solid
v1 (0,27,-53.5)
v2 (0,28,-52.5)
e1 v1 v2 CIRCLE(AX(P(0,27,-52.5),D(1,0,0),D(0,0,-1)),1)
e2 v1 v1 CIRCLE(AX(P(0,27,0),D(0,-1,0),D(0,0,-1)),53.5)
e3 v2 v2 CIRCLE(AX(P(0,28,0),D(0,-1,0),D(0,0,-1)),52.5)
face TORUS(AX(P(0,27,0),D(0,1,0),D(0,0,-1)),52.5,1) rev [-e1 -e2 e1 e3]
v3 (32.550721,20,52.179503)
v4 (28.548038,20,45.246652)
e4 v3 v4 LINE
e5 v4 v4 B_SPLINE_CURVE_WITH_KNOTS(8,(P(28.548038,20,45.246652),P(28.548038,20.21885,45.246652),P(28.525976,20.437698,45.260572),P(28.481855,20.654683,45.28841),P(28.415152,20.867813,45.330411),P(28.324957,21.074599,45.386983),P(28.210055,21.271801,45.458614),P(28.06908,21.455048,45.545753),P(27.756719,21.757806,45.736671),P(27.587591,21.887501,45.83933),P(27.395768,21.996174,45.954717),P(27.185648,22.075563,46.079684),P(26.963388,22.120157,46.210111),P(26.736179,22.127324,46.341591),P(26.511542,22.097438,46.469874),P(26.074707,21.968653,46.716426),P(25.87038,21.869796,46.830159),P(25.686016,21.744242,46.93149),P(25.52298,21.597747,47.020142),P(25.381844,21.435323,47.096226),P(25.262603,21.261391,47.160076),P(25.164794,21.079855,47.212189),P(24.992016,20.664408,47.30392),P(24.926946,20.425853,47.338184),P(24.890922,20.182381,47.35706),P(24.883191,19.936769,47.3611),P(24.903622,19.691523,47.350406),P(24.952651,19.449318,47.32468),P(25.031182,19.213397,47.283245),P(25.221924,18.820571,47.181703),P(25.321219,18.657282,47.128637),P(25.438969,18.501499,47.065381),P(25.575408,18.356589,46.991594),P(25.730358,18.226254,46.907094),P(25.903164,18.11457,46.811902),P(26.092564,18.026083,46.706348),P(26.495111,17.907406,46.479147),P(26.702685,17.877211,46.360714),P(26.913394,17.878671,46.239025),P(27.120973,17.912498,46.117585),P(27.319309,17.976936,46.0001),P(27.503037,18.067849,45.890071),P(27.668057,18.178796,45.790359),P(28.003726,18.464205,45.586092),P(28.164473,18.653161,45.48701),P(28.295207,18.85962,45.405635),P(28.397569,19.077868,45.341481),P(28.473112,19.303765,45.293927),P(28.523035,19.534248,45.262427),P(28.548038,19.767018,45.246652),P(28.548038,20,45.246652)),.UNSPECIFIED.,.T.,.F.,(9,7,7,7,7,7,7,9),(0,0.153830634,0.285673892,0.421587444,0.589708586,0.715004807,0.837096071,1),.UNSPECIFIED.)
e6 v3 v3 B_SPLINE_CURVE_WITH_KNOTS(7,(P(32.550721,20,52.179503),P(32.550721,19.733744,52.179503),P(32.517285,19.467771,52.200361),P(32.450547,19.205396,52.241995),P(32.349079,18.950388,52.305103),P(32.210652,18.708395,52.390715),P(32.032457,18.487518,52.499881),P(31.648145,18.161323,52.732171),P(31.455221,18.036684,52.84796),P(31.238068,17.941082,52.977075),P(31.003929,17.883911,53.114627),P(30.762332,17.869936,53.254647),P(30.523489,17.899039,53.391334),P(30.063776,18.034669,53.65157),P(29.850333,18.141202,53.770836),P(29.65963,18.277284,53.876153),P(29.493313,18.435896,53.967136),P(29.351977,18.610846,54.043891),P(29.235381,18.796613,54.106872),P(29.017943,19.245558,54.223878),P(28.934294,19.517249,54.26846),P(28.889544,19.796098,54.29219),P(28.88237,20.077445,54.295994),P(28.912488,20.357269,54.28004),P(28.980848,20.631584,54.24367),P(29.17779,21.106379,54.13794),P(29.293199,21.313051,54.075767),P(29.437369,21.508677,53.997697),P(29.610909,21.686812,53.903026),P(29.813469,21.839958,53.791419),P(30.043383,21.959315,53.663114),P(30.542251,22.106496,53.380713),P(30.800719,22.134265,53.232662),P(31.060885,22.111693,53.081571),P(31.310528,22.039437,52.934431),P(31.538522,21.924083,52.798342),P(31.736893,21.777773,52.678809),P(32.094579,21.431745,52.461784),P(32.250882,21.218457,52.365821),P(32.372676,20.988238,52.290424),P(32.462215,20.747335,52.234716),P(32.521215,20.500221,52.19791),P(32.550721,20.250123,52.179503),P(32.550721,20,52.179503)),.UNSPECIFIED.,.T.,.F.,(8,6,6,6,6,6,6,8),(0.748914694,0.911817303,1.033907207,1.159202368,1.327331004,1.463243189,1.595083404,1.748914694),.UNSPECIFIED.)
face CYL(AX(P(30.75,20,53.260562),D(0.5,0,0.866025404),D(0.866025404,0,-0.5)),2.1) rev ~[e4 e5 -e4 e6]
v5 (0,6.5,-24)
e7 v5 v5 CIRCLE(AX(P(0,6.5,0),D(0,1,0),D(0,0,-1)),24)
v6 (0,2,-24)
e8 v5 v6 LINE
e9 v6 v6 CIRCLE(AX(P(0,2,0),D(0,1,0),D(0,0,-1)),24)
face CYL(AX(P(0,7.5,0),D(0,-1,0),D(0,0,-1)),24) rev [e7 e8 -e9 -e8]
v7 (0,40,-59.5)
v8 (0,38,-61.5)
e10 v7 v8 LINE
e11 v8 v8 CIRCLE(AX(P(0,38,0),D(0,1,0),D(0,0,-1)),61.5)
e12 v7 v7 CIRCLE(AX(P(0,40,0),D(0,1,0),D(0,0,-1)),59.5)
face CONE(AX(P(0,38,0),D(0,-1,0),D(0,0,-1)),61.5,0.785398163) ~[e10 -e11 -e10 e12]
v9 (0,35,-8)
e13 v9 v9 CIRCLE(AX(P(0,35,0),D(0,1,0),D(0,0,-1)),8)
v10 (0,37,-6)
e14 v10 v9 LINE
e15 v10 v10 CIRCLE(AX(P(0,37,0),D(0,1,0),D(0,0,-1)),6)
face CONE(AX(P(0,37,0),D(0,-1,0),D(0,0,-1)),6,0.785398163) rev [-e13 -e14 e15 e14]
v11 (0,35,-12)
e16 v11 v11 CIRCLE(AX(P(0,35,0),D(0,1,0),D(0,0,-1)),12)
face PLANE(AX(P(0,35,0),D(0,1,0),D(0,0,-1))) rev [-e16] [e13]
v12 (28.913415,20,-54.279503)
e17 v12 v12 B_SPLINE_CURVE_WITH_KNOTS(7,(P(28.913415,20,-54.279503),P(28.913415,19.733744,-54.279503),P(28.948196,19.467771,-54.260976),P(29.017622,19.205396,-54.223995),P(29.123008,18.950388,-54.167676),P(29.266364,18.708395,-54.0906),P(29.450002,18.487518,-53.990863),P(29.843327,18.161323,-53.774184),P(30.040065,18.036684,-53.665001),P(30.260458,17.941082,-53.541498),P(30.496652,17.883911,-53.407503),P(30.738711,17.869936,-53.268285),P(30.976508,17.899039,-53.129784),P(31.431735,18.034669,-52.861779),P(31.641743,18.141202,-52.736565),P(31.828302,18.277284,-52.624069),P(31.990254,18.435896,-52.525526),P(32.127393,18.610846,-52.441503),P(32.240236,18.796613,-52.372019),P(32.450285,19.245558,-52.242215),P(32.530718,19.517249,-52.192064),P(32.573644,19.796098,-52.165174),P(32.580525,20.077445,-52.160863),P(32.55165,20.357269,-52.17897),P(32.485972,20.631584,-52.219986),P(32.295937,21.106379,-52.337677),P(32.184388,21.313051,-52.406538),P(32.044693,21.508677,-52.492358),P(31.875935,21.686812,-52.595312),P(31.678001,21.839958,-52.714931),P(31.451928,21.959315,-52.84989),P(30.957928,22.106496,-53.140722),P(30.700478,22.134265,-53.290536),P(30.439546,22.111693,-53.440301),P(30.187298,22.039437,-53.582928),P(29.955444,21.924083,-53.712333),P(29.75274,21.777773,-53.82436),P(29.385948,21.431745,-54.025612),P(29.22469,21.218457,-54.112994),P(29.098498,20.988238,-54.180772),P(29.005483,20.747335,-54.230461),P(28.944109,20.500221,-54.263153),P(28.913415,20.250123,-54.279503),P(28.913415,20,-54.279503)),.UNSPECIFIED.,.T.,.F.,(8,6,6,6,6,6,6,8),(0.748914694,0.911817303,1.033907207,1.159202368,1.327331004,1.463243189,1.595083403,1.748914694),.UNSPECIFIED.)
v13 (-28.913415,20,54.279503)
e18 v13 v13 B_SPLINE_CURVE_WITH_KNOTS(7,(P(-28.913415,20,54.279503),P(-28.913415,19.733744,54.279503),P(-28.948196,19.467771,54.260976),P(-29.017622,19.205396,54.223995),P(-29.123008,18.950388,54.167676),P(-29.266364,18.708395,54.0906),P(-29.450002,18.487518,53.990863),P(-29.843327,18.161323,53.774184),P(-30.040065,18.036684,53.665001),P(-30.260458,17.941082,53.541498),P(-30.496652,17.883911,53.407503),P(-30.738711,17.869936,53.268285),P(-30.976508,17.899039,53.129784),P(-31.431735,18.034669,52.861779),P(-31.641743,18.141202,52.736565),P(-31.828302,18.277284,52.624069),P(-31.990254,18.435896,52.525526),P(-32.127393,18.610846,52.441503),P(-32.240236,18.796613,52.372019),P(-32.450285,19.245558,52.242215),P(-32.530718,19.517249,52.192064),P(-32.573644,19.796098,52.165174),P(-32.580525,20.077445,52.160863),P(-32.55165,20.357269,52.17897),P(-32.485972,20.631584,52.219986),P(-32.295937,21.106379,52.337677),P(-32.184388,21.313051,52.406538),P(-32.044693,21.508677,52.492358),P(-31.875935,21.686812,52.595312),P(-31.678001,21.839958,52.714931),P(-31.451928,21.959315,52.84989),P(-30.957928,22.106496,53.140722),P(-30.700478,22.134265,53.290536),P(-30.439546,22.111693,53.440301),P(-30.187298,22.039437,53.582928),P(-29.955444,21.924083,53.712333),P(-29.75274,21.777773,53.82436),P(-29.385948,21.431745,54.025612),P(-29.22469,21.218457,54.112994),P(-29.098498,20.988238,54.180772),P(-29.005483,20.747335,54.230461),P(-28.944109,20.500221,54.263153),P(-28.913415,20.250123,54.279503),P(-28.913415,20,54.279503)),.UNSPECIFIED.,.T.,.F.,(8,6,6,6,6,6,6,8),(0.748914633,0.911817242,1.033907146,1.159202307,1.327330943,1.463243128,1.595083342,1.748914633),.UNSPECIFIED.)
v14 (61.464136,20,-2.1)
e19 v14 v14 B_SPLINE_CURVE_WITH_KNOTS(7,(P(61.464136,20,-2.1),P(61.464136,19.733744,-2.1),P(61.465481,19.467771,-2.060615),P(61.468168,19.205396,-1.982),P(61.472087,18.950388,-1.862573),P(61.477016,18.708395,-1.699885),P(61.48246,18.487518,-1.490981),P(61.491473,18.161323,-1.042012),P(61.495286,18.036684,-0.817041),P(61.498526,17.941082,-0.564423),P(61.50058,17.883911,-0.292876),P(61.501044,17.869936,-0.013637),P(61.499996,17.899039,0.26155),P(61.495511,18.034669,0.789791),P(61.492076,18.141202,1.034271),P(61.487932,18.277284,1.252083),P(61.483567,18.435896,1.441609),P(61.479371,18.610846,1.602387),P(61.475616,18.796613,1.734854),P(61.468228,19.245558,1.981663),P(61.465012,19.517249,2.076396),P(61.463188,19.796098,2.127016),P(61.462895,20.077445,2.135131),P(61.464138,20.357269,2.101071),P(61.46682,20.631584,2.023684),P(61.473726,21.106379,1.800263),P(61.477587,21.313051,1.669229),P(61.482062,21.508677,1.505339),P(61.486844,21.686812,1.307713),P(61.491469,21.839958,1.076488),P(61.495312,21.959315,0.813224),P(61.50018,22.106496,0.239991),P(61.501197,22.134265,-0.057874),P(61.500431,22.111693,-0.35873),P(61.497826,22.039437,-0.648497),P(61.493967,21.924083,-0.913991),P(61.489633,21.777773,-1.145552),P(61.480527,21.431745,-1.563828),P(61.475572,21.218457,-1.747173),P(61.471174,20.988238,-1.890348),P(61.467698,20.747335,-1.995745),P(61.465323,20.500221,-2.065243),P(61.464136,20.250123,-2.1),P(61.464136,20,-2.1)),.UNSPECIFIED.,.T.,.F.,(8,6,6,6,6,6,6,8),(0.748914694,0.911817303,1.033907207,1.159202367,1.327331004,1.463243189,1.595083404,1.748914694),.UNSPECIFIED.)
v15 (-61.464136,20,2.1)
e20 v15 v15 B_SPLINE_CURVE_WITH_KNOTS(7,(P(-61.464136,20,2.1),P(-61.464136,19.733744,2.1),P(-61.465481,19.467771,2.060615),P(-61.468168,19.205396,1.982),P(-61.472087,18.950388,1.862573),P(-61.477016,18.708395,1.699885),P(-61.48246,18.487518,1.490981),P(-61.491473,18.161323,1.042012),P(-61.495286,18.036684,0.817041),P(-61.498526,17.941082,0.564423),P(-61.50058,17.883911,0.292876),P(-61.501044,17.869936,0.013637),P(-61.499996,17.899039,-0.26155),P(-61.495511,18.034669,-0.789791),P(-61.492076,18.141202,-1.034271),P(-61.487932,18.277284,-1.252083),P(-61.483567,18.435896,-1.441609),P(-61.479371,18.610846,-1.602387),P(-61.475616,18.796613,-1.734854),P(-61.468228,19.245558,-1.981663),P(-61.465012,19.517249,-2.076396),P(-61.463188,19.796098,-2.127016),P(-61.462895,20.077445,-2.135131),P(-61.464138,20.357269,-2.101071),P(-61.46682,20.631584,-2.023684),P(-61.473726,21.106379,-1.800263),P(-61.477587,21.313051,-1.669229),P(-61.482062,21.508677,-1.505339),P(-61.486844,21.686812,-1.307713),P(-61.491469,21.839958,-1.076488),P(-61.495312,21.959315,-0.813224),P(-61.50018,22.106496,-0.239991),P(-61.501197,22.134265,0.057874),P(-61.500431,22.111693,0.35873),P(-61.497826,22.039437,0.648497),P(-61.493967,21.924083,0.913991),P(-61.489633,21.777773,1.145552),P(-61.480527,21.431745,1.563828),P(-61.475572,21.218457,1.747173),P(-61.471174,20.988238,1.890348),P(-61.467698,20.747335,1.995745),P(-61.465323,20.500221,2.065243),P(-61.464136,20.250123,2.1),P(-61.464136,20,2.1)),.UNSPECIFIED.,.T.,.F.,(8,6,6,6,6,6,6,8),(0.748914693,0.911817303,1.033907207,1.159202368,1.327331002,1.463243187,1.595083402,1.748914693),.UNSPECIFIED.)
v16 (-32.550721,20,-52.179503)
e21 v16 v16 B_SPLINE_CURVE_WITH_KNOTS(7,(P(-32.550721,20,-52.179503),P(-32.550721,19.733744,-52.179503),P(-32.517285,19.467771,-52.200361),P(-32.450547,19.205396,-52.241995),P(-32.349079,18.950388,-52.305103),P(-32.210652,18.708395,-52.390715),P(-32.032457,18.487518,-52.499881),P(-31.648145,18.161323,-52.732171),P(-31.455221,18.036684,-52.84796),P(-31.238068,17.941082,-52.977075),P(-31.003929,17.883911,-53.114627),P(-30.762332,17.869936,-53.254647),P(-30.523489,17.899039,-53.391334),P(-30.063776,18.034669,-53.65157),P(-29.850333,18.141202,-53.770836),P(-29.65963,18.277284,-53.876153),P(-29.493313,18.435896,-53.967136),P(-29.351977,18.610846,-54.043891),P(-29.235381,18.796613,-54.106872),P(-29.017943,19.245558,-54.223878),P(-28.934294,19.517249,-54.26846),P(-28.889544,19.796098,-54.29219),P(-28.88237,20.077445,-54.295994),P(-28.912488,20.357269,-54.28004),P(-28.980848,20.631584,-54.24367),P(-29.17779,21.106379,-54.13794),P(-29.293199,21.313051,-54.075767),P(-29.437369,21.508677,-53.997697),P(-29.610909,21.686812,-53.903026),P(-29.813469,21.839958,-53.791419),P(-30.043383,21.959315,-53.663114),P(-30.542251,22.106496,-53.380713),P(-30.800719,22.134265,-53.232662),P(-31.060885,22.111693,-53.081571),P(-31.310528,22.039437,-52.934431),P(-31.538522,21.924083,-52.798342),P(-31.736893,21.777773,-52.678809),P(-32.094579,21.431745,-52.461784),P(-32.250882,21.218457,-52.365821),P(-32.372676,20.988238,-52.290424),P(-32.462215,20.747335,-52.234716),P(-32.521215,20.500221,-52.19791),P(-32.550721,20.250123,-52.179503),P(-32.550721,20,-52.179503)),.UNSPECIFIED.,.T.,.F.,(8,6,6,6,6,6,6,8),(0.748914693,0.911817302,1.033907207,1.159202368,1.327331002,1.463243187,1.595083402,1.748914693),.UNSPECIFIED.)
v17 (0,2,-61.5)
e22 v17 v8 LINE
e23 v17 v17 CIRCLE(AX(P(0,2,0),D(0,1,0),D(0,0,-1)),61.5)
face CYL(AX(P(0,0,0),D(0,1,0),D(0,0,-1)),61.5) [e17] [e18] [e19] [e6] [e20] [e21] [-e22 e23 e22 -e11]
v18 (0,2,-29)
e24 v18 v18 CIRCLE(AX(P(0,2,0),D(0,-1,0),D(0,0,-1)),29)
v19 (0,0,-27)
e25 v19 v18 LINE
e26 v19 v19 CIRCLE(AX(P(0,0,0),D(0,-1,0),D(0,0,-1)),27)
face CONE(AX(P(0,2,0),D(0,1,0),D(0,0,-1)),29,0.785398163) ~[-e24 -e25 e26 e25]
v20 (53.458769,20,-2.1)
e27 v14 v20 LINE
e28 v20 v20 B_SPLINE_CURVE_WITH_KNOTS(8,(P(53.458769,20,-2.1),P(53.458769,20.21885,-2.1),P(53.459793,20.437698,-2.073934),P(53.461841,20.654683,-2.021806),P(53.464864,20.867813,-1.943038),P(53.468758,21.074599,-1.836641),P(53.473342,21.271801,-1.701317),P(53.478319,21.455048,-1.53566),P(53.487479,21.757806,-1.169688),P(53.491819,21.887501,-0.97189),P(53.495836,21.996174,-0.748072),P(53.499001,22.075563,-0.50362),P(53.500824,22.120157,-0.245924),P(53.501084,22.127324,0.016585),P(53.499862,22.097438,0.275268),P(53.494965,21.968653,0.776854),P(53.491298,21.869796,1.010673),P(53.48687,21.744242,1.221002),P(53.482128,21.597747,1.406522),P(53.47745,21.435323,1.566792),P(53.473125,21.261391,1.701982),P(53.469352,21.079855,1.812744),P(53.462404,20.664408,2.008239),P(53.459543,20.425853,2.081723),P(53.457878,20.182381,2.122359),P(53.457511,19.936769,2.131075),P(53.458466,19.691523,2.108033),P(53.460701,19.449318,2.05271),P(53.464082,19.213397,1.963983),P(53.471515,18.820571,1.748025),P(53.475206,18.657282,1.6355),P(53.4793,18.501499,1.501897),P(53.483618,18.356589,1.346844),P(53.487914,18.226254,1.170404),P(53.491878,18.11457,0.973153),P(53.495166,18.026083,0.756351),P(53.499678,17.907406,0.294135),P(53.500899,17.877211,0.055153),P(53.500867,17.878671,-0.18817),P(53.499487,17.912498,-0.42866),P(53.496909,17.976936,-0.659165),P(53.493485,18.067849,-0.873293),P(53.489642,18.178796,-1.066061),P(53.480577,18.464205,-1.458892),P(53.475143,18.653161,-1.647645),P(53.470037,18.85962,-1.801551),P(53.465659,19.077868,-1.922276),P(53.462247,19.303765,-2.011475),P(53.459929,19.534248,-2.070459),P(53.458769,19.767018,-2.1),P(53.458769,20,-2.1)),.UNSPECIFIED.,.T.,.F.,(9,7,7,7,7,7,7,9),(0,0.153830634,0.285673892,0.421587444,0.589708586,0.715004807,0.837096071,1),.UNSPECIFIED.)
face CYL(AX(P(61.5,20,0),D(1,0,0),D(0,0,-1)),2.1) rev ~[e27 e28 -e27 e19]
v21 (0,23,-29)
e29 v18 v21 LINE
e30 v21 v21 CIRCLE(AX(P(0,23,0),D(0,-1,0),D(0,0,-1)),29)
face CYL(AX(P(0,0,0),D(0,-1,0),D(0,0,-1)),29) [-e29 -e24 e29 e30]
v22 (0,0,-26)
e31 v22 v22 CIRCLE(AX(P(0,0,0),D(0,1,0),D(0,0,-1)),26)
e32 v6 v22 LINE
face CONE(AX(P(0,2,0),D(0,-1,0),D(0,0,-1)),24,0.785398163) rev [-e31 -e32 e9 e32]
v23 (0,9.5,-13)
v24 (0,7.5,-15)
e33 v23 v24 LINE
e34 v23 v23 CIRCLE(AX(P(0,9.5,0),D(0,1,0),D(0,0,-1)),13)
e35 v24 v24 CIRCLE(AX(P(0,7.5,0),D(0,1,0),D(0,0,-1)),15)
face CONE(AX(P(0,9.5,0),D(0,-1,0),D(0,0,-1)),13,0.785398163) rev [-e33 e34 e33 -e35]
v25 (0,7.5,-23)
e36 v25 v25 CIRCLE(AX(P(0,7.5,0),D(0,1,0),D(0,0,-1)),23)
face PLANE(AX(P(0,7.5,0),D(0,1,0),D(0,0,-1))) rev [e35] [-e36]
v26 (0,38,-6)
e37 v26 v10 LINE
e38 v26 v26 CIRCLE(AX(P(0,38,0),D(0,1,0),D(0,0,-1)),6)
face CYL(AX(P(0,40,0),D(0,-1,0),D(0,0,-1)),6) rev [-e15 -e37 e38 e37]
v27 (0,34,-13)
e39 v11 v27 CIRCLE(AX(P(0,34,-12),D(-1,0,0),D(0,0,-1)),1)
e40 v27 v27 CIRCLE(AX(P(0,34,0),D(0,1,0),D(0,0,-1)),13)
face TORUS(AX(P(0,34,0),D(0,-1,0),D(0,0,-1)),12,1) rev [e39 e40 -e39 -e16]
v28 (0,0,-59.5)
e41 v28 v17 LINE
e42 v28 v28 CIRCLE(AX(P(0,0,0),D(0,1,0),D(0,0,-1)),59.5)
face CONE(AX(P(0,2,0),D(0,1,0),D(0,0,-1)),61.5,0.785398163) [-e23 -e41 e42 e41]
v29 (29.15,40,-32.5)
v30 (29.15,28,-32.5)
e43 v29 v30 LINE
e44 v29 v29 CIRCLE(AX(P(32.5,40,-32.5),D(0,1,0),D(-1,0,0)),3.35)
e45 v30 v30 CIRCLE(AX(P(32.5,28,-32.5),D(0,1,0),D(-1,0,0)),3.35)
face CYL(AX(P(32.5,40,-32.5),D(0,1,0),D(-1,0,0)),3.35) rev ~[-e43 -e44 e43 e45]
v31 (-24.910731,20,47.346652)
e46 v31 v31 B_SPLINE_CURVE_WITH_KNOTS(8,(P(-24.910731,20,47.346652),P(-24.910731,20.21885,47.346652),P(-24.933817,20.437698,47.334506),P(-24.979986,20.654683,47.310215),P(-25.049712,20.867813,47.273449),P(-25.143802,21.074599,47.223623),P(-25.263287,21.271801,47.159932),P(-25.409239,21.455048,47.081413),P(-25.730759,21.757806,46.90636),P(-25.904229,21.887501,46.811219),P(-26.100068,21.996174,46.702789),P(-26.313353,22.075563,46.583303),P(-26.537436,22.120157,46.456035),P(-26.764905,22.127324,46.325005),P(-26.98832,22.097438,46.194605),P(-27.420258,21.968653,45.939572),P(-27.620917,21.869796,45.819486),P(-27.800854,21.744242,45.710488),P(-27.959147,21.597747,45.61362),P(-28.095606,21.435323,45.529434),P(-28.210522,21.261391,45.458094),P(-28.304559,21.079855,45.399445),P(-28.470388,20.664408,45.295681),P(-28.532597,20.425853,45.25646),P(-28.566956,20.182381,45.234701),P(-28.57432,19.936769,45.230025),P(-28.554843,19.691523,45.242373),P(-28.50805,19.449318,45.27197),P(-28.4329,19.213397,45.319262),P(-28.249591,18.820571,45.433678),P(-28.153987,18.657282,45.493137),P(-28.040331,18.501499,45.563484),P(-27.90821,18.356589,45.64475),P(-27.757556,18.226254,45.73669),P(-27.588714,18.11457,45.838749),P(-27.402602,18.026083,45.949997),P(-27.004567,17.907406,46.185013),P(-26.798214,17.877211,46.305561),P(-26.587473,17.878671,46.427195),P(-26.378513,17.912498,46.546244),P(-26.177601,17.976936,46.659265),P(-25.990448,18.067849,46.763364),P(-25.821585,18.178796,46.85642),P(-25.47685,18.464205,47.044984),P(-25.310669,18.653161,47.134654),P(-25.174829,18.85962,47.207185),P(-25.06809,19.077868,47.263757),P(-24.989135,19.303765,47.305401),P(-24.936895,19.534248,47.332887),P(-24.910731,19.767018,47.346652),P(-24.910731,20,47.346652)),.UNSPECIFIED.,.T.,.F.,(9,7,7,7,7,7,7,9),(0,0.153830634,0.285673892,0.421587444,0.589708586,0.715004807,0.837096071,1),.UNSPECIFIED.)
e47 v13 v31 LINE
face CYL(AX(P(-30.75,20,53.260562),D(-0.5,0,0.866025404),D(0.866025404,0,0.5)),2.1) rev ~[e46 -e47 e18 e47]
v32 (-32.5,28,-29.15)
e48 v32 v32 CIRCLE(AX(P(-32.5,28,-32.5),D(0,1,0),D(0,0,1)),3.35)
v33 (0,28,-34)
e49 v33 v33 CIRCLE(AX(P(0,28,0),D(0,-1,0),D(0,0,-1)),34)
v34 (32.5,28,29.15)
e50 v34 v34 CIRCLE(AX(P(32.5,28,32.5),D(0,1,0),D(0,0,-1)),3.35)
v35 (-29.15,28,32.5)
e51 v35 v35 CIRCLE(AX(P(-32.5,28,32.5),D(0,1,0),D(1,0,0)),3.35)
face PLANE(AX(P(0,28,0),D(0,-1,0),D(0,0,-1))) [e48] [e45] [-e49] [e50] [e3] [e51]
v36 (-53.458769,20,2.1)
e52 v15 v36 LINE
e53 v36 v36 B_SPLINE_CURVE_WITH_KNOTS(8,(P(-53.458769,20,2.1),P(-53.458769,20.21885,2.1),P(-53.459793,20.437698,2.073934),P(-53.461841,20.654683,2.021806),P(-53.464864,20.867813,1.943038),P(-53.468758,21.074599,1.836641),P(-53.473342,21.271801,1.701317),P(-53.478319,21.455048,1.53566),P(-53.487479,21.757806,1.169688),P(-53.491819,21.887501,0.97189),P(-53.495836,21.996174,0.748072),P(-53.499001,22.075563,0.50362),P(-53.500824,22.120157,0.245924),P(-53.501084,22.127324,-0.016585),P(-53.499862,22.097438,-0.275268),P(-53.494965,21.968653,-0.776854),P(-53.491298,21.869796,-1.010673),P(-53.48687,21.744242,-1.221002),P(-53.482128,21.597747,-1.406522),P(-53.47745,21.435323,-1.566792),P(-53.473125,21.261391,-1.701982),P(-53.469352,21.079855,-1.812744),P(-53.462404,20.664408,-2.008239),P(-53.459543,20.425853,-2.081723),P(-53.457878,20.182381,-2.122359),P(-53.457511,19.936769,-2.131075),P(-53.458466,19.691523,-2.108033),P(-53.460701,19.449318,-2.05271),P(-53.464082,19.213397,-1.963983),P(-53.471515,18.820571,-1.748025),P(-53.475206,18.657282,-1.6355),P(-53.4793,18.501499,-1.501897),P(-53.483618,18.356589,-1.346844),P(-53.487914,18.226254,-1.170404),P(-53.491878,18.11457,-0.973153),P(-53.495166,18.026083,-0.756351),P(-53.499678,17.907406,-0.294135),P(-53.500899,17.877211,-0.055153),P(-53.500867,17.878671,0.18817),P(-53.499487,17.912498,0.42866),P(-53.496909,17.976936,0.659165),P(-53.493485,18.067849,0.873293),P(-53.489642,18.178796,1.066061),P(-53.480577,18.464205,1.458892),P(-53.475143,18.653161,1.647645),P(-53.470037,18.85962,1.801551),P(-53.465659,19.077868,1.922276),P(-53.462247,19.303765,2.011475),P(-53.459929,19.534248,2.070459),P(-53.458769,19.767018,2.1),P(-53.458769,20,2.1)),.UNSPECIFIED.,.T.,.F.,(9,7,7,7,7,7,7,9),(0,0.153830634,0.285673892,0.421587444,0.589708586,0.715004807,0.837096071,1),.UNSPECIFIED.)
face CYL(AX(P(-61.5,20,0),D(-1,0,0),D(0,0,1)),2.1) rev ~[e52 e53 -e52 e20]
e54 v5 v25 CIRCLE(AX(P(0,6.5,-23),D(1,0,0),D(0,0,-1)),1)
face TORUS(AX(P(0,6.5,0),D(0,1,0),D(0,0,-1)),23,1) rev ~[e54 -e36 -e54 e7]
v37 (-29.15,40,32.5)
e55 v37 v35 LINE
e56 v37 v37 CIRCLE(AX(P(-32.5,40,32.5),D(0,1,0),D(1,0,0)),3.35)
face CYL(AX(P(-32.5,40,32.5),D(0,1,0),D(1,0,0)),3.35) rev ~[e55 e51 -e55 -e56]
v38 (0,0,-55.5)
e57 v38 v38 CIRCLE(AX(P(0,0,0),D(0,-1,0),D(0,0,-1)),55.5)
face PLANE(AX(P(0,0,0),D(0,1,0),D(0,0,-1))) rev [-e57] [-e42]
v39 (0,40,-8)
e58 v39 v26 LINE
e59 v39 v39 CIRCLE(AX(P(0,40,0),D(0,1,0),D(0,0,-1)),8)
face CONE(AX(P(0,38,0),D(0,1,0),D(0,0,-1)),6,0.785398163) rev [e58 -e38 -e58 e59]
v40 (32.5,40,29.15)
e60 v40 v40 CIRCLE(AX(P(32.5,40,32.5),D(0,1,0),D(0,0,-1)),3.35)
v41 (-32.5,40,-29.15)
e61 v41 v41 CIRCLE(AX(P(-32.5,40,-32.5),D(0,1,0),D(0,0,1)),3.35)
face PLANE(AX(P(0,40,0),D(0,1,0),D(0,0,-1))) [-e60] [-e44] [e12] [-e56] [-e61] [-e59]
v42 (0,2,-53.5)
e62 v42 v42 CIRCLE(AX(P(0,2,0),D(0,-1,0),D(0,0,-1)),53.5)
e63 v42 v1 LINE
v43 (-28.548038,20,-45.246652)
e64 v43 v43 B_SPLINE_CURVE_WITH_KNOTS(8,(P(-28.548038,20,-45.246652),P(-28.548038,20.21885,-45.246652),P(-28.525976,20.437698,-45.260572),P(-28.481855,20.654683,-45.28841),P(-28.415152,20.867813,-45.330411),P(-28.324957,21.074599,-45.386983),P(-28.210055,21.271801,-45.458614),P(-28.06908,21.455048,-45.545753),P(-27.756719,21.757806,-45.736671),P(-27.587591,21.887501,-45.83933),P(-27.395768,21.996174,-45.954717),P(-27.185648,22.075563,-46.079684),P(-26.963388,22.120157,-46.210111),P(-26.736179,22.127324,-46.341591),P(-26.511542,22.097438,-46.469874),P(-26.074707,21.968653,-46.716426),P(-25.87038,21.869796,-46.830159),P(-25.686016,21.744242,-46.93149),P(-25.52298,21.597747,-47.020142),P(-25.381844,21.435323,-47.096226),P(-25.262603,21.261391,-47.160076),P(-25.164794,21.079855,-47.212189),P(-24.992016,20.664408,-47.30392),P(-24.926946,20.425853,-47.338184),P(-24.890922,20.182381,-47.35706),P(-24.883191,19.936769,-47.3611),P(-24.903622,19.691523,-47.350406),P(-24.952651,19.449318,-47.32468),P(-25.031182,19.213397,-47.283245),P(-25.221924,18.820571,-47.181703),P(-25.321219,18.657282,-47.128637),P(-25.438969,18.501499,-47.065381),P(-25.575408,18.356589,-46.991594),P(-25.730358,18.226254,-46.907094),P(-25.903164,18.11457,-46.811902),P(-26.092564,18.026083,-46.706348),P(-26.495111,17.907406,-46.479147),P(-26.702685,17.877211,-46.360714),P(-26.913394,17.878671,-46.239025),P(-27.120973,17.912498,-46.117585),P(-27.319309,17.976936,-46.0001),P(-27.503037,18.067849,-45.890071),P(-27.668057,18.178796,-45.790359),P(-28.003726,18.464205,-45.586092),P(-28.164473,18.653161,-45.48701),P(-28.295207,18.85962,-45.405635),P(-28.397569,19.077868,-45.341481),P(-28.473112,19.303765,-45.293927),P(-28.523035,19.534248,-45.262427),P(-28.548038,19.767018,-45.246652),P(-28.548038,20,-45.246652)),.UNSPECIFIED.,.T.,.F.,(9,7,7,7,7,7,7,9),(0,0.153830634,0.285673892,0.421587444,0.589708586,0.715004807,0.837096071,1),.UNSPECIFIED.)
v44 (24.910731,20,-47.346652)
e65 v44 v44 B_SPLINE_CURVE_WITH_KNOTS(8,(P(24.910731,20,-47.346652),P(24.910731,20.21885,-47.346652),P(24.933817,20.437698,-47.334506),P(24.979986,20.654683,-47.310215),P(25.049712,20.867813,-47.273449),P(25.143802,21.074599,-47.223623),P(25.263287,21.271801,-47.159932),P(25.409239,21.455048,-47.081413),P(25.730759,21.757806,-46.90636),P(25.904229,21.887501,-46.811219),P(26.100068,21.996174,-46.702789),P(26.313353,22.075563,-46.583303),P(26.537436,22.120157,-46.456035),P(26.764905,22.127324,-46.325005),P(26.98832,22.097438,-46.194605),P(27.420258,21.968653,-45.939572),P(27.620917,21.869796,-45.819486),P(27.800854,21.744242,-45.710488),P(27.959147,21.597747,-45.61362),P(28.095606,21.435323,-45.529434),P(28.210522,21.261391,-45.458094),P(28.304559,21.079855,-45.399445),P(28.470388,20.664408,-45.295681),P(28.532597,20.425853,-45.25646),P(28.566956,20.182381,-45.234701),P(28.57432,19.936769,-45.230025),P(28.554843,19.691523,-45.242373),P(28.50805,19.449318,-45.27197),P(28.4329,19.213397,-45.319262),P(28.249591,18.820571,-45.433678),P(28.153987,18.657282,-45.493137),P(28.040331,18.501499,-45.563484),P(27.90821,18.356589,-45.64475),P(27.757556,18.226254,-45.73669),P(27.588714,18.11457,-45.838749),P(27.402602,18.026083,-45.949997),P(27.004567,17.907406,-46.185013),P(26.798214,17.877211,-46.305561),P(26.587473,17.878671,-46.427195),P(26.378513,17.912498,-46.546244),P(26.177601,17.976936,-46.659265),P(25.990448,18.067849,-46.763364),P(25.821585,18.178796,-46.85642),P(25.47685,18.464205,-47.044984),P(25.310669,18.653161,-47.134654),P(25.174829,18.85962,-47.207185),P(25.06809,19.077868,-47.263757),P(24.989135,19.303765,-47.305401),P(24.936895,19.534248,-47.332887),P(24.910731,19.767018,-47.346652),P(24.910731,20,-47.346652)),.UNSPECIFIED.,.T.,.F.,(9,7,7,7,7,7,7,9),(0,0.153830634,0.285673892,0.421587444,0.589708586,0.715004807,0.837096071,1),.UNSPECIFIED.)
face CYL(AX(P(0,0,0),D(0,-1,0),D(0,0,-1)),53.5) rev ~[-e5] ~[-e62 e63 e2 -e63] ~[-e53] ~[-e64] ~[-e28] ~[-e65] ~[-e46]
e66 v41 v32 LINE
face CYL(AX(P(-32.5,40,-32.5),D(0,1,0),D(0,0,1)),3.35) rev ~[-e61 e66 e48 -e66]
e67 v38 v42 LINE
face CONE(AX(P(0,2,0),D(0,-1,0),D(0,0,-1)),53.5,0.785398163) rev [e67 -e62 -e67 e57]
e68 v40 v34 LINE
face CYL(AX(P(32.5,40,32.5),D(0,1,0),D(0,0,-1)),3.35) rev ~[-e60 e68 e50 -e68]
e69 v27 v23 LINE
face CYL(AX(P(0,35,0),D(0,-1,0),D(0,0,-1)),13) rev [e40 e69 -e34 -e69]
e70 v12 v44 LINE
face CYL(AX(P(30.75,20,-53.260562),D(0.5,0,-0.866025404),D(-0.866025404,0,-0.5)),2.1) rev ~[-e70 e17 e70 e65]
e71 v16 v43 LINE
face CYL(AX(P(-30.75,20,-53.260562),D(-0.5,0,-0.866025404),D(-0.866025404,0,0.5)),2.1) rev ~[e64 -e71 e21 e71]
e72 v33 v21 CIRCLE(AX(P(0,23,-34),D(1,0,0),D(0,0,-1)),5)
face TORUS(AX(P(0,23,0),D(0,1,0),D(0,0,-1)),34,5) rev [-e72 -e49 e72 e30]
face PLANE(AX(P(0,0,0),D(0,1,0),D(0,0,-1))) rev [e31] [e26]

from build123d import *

# Parameters (mm, degrees)
SKETCH2_R               = 3.35
CUT_EXTRUDE1_DEPTH      = 25
CIRPATTERN1_COUNT       = 4
SKETCH5_R               = 53.5
SKETCH5_R_2             = 29
CUT_EXTRUDE4_DEPTH      = 28
CUT_EXTRUDE5_REACH      = 145.217
CUT_EXTRUDE5_END_RADIUS = 53.5
SKETCH6_R               = 2.1
CIRPATTERN2_COUNT       = 6
CHAMFER1_SIZE           = 2
FILLET2_R               = 1
FILLET3_R               = 5


with BuildPart() as part:
    # Sketch1 → Revolve1 (revolve)
    with BuildSketch(Plane(origin=(0, 0, 0), x_dir=(0, 0, -1), z_dir=(1, 0, 0)), mode=Mode.PRIVATE) as revolve1_sk:
        Polygon((-24, 0), (-61.5, 0), (-61.5, 40), (-6, 40), (-6, 35), (-13, 35), (-13, 7.5), (-24, 7.5), align=None)
    revolve(revolve1_sk.sketch.rotate(Axis((0, 0, 0), (0, 1, 0)), 180), axis=Axis((0, 0, 0), (0, 1, 0)))

    # Sketch2 → Cut-Extrude1 (cut)
    with BuildSketch(Plane(origin=(0, 40, 0), x_dir=(1, 0, 0), z_dir=(0, 1, 0))):
        with Locations(Location((-32.5, 32.5, 0), (0, 0, 270))):
            Circle(SKETCH2_R)
    cut_extrude1 = extrude(amount=-CUT_EXTRUDE1_DEPTH, mode=Mode.SUBTRACT)

    # CirPattern1: Cut-Extrude1 ×4 about axis
    cirpattern1_axis = Axis((0, 0, 0), (0, 1, 0))
    for i in range(1, CIRPATTERN1_COUNT):
        add(cut_extrude1.rotate(cirpattern1_axis, i * 360 / CIRPATTERN1_COUNT), mode=Mode.SUBTRACT)

    # Sketch5 → Cut-Extrude4 (cut)
    with BuildSketch(Plane.XZ):
        with Locations(Location((0, 0, 0), (0, 0, 270))):
            Circle(SKETCH5_R)
        with Locations(Location((0, 0, 0), (0, 0, 270))):
            Circle(SKETCH5_R_2, mode=Mode.SUBTRACT)
    extrude(amount=-CUT_EXTRUDE4_DEPTH, mode=Mode.SUBTRACT)

    # Cut-Extrude5: up to this cylinder (the profile starts outside it)
    cut_extrude5_end = Plane(origin=(0, 20, 0), z_dir=(0, -1, 0)) * Cylinder(CUT_EXTRUDE5_END_RADIUS, 398.434, mode=Mode.PRIVATE)
    # Sketch6 → Cut-Extrude5 (cut, up to the surface)
    with BuildSketch(Plane(origin=(61.5, 0, 0), x_dir=(0, 0, -1), z_dir=(1, 0, 0)), mode=Mode.PRIVATE) as cut_extrude5_sk1:
        with Locations((0, 20)):
            Circle(SKETCH6_R)
    cut_extrude5_tool1 = extrude(cut_extrude5_sk1.sketch, amount=-CUT_EXTRUDE5_REACH, mode=Mode.PRIVATE) - cut_extrude5_end
    cut_extrude5 = cut_extrude5_tool1.solids().sort_by_distance((61.5, 20, 0))[0]
    add(cut_extrude5, mode=Mode.SUBTRACT)

    # CirPattern2: Cut-Extrude5 ×6 about axis
    cirpattern2_axis = Axis((0, 40, 0), (0, -1, 0))
    for i in range(1, CIRPATTERN2_COUNT):
        add(cut_extrude5.rotate(cirpattern2_axis, i * 360 / CIRPATTERN2_COUNT), mode=Mode.SUBTRACT)

    # Chamfer1
    chamfer1_edges = [part.edges().sort_by_distance(p)[0] for p in [
        (0, 0, 24),
        (0, 0, 53.5),
        (0, 0, 29),
        (0, 7.5, 13),
        (0, 35, 6),
        (0, 40, 6),
        (0, 40, 61.5),
        (0, 0, 61.5),
    ]]
    chamfer(chamfer1_edges, length=CHAMFER1_SIZE)

    # Fillet2
    fillet2_edges = [part.edges().sort_by_distance(p)[0] for p in [
        (0, 28, 53.5),
        (0, 7.5, 24),
        (0, 35, 13),
    ]]
    fillet(fillet2_edges, radius=FILLET2_R)

    # Fillet3
    fillet3_edges = [part.edges().sort_by_distance(p)[0] for p in [
        (0, 28, 29),
    ]]
    fillet(fillet3_edges, radius=FILLET3_R)


solid = part.part
